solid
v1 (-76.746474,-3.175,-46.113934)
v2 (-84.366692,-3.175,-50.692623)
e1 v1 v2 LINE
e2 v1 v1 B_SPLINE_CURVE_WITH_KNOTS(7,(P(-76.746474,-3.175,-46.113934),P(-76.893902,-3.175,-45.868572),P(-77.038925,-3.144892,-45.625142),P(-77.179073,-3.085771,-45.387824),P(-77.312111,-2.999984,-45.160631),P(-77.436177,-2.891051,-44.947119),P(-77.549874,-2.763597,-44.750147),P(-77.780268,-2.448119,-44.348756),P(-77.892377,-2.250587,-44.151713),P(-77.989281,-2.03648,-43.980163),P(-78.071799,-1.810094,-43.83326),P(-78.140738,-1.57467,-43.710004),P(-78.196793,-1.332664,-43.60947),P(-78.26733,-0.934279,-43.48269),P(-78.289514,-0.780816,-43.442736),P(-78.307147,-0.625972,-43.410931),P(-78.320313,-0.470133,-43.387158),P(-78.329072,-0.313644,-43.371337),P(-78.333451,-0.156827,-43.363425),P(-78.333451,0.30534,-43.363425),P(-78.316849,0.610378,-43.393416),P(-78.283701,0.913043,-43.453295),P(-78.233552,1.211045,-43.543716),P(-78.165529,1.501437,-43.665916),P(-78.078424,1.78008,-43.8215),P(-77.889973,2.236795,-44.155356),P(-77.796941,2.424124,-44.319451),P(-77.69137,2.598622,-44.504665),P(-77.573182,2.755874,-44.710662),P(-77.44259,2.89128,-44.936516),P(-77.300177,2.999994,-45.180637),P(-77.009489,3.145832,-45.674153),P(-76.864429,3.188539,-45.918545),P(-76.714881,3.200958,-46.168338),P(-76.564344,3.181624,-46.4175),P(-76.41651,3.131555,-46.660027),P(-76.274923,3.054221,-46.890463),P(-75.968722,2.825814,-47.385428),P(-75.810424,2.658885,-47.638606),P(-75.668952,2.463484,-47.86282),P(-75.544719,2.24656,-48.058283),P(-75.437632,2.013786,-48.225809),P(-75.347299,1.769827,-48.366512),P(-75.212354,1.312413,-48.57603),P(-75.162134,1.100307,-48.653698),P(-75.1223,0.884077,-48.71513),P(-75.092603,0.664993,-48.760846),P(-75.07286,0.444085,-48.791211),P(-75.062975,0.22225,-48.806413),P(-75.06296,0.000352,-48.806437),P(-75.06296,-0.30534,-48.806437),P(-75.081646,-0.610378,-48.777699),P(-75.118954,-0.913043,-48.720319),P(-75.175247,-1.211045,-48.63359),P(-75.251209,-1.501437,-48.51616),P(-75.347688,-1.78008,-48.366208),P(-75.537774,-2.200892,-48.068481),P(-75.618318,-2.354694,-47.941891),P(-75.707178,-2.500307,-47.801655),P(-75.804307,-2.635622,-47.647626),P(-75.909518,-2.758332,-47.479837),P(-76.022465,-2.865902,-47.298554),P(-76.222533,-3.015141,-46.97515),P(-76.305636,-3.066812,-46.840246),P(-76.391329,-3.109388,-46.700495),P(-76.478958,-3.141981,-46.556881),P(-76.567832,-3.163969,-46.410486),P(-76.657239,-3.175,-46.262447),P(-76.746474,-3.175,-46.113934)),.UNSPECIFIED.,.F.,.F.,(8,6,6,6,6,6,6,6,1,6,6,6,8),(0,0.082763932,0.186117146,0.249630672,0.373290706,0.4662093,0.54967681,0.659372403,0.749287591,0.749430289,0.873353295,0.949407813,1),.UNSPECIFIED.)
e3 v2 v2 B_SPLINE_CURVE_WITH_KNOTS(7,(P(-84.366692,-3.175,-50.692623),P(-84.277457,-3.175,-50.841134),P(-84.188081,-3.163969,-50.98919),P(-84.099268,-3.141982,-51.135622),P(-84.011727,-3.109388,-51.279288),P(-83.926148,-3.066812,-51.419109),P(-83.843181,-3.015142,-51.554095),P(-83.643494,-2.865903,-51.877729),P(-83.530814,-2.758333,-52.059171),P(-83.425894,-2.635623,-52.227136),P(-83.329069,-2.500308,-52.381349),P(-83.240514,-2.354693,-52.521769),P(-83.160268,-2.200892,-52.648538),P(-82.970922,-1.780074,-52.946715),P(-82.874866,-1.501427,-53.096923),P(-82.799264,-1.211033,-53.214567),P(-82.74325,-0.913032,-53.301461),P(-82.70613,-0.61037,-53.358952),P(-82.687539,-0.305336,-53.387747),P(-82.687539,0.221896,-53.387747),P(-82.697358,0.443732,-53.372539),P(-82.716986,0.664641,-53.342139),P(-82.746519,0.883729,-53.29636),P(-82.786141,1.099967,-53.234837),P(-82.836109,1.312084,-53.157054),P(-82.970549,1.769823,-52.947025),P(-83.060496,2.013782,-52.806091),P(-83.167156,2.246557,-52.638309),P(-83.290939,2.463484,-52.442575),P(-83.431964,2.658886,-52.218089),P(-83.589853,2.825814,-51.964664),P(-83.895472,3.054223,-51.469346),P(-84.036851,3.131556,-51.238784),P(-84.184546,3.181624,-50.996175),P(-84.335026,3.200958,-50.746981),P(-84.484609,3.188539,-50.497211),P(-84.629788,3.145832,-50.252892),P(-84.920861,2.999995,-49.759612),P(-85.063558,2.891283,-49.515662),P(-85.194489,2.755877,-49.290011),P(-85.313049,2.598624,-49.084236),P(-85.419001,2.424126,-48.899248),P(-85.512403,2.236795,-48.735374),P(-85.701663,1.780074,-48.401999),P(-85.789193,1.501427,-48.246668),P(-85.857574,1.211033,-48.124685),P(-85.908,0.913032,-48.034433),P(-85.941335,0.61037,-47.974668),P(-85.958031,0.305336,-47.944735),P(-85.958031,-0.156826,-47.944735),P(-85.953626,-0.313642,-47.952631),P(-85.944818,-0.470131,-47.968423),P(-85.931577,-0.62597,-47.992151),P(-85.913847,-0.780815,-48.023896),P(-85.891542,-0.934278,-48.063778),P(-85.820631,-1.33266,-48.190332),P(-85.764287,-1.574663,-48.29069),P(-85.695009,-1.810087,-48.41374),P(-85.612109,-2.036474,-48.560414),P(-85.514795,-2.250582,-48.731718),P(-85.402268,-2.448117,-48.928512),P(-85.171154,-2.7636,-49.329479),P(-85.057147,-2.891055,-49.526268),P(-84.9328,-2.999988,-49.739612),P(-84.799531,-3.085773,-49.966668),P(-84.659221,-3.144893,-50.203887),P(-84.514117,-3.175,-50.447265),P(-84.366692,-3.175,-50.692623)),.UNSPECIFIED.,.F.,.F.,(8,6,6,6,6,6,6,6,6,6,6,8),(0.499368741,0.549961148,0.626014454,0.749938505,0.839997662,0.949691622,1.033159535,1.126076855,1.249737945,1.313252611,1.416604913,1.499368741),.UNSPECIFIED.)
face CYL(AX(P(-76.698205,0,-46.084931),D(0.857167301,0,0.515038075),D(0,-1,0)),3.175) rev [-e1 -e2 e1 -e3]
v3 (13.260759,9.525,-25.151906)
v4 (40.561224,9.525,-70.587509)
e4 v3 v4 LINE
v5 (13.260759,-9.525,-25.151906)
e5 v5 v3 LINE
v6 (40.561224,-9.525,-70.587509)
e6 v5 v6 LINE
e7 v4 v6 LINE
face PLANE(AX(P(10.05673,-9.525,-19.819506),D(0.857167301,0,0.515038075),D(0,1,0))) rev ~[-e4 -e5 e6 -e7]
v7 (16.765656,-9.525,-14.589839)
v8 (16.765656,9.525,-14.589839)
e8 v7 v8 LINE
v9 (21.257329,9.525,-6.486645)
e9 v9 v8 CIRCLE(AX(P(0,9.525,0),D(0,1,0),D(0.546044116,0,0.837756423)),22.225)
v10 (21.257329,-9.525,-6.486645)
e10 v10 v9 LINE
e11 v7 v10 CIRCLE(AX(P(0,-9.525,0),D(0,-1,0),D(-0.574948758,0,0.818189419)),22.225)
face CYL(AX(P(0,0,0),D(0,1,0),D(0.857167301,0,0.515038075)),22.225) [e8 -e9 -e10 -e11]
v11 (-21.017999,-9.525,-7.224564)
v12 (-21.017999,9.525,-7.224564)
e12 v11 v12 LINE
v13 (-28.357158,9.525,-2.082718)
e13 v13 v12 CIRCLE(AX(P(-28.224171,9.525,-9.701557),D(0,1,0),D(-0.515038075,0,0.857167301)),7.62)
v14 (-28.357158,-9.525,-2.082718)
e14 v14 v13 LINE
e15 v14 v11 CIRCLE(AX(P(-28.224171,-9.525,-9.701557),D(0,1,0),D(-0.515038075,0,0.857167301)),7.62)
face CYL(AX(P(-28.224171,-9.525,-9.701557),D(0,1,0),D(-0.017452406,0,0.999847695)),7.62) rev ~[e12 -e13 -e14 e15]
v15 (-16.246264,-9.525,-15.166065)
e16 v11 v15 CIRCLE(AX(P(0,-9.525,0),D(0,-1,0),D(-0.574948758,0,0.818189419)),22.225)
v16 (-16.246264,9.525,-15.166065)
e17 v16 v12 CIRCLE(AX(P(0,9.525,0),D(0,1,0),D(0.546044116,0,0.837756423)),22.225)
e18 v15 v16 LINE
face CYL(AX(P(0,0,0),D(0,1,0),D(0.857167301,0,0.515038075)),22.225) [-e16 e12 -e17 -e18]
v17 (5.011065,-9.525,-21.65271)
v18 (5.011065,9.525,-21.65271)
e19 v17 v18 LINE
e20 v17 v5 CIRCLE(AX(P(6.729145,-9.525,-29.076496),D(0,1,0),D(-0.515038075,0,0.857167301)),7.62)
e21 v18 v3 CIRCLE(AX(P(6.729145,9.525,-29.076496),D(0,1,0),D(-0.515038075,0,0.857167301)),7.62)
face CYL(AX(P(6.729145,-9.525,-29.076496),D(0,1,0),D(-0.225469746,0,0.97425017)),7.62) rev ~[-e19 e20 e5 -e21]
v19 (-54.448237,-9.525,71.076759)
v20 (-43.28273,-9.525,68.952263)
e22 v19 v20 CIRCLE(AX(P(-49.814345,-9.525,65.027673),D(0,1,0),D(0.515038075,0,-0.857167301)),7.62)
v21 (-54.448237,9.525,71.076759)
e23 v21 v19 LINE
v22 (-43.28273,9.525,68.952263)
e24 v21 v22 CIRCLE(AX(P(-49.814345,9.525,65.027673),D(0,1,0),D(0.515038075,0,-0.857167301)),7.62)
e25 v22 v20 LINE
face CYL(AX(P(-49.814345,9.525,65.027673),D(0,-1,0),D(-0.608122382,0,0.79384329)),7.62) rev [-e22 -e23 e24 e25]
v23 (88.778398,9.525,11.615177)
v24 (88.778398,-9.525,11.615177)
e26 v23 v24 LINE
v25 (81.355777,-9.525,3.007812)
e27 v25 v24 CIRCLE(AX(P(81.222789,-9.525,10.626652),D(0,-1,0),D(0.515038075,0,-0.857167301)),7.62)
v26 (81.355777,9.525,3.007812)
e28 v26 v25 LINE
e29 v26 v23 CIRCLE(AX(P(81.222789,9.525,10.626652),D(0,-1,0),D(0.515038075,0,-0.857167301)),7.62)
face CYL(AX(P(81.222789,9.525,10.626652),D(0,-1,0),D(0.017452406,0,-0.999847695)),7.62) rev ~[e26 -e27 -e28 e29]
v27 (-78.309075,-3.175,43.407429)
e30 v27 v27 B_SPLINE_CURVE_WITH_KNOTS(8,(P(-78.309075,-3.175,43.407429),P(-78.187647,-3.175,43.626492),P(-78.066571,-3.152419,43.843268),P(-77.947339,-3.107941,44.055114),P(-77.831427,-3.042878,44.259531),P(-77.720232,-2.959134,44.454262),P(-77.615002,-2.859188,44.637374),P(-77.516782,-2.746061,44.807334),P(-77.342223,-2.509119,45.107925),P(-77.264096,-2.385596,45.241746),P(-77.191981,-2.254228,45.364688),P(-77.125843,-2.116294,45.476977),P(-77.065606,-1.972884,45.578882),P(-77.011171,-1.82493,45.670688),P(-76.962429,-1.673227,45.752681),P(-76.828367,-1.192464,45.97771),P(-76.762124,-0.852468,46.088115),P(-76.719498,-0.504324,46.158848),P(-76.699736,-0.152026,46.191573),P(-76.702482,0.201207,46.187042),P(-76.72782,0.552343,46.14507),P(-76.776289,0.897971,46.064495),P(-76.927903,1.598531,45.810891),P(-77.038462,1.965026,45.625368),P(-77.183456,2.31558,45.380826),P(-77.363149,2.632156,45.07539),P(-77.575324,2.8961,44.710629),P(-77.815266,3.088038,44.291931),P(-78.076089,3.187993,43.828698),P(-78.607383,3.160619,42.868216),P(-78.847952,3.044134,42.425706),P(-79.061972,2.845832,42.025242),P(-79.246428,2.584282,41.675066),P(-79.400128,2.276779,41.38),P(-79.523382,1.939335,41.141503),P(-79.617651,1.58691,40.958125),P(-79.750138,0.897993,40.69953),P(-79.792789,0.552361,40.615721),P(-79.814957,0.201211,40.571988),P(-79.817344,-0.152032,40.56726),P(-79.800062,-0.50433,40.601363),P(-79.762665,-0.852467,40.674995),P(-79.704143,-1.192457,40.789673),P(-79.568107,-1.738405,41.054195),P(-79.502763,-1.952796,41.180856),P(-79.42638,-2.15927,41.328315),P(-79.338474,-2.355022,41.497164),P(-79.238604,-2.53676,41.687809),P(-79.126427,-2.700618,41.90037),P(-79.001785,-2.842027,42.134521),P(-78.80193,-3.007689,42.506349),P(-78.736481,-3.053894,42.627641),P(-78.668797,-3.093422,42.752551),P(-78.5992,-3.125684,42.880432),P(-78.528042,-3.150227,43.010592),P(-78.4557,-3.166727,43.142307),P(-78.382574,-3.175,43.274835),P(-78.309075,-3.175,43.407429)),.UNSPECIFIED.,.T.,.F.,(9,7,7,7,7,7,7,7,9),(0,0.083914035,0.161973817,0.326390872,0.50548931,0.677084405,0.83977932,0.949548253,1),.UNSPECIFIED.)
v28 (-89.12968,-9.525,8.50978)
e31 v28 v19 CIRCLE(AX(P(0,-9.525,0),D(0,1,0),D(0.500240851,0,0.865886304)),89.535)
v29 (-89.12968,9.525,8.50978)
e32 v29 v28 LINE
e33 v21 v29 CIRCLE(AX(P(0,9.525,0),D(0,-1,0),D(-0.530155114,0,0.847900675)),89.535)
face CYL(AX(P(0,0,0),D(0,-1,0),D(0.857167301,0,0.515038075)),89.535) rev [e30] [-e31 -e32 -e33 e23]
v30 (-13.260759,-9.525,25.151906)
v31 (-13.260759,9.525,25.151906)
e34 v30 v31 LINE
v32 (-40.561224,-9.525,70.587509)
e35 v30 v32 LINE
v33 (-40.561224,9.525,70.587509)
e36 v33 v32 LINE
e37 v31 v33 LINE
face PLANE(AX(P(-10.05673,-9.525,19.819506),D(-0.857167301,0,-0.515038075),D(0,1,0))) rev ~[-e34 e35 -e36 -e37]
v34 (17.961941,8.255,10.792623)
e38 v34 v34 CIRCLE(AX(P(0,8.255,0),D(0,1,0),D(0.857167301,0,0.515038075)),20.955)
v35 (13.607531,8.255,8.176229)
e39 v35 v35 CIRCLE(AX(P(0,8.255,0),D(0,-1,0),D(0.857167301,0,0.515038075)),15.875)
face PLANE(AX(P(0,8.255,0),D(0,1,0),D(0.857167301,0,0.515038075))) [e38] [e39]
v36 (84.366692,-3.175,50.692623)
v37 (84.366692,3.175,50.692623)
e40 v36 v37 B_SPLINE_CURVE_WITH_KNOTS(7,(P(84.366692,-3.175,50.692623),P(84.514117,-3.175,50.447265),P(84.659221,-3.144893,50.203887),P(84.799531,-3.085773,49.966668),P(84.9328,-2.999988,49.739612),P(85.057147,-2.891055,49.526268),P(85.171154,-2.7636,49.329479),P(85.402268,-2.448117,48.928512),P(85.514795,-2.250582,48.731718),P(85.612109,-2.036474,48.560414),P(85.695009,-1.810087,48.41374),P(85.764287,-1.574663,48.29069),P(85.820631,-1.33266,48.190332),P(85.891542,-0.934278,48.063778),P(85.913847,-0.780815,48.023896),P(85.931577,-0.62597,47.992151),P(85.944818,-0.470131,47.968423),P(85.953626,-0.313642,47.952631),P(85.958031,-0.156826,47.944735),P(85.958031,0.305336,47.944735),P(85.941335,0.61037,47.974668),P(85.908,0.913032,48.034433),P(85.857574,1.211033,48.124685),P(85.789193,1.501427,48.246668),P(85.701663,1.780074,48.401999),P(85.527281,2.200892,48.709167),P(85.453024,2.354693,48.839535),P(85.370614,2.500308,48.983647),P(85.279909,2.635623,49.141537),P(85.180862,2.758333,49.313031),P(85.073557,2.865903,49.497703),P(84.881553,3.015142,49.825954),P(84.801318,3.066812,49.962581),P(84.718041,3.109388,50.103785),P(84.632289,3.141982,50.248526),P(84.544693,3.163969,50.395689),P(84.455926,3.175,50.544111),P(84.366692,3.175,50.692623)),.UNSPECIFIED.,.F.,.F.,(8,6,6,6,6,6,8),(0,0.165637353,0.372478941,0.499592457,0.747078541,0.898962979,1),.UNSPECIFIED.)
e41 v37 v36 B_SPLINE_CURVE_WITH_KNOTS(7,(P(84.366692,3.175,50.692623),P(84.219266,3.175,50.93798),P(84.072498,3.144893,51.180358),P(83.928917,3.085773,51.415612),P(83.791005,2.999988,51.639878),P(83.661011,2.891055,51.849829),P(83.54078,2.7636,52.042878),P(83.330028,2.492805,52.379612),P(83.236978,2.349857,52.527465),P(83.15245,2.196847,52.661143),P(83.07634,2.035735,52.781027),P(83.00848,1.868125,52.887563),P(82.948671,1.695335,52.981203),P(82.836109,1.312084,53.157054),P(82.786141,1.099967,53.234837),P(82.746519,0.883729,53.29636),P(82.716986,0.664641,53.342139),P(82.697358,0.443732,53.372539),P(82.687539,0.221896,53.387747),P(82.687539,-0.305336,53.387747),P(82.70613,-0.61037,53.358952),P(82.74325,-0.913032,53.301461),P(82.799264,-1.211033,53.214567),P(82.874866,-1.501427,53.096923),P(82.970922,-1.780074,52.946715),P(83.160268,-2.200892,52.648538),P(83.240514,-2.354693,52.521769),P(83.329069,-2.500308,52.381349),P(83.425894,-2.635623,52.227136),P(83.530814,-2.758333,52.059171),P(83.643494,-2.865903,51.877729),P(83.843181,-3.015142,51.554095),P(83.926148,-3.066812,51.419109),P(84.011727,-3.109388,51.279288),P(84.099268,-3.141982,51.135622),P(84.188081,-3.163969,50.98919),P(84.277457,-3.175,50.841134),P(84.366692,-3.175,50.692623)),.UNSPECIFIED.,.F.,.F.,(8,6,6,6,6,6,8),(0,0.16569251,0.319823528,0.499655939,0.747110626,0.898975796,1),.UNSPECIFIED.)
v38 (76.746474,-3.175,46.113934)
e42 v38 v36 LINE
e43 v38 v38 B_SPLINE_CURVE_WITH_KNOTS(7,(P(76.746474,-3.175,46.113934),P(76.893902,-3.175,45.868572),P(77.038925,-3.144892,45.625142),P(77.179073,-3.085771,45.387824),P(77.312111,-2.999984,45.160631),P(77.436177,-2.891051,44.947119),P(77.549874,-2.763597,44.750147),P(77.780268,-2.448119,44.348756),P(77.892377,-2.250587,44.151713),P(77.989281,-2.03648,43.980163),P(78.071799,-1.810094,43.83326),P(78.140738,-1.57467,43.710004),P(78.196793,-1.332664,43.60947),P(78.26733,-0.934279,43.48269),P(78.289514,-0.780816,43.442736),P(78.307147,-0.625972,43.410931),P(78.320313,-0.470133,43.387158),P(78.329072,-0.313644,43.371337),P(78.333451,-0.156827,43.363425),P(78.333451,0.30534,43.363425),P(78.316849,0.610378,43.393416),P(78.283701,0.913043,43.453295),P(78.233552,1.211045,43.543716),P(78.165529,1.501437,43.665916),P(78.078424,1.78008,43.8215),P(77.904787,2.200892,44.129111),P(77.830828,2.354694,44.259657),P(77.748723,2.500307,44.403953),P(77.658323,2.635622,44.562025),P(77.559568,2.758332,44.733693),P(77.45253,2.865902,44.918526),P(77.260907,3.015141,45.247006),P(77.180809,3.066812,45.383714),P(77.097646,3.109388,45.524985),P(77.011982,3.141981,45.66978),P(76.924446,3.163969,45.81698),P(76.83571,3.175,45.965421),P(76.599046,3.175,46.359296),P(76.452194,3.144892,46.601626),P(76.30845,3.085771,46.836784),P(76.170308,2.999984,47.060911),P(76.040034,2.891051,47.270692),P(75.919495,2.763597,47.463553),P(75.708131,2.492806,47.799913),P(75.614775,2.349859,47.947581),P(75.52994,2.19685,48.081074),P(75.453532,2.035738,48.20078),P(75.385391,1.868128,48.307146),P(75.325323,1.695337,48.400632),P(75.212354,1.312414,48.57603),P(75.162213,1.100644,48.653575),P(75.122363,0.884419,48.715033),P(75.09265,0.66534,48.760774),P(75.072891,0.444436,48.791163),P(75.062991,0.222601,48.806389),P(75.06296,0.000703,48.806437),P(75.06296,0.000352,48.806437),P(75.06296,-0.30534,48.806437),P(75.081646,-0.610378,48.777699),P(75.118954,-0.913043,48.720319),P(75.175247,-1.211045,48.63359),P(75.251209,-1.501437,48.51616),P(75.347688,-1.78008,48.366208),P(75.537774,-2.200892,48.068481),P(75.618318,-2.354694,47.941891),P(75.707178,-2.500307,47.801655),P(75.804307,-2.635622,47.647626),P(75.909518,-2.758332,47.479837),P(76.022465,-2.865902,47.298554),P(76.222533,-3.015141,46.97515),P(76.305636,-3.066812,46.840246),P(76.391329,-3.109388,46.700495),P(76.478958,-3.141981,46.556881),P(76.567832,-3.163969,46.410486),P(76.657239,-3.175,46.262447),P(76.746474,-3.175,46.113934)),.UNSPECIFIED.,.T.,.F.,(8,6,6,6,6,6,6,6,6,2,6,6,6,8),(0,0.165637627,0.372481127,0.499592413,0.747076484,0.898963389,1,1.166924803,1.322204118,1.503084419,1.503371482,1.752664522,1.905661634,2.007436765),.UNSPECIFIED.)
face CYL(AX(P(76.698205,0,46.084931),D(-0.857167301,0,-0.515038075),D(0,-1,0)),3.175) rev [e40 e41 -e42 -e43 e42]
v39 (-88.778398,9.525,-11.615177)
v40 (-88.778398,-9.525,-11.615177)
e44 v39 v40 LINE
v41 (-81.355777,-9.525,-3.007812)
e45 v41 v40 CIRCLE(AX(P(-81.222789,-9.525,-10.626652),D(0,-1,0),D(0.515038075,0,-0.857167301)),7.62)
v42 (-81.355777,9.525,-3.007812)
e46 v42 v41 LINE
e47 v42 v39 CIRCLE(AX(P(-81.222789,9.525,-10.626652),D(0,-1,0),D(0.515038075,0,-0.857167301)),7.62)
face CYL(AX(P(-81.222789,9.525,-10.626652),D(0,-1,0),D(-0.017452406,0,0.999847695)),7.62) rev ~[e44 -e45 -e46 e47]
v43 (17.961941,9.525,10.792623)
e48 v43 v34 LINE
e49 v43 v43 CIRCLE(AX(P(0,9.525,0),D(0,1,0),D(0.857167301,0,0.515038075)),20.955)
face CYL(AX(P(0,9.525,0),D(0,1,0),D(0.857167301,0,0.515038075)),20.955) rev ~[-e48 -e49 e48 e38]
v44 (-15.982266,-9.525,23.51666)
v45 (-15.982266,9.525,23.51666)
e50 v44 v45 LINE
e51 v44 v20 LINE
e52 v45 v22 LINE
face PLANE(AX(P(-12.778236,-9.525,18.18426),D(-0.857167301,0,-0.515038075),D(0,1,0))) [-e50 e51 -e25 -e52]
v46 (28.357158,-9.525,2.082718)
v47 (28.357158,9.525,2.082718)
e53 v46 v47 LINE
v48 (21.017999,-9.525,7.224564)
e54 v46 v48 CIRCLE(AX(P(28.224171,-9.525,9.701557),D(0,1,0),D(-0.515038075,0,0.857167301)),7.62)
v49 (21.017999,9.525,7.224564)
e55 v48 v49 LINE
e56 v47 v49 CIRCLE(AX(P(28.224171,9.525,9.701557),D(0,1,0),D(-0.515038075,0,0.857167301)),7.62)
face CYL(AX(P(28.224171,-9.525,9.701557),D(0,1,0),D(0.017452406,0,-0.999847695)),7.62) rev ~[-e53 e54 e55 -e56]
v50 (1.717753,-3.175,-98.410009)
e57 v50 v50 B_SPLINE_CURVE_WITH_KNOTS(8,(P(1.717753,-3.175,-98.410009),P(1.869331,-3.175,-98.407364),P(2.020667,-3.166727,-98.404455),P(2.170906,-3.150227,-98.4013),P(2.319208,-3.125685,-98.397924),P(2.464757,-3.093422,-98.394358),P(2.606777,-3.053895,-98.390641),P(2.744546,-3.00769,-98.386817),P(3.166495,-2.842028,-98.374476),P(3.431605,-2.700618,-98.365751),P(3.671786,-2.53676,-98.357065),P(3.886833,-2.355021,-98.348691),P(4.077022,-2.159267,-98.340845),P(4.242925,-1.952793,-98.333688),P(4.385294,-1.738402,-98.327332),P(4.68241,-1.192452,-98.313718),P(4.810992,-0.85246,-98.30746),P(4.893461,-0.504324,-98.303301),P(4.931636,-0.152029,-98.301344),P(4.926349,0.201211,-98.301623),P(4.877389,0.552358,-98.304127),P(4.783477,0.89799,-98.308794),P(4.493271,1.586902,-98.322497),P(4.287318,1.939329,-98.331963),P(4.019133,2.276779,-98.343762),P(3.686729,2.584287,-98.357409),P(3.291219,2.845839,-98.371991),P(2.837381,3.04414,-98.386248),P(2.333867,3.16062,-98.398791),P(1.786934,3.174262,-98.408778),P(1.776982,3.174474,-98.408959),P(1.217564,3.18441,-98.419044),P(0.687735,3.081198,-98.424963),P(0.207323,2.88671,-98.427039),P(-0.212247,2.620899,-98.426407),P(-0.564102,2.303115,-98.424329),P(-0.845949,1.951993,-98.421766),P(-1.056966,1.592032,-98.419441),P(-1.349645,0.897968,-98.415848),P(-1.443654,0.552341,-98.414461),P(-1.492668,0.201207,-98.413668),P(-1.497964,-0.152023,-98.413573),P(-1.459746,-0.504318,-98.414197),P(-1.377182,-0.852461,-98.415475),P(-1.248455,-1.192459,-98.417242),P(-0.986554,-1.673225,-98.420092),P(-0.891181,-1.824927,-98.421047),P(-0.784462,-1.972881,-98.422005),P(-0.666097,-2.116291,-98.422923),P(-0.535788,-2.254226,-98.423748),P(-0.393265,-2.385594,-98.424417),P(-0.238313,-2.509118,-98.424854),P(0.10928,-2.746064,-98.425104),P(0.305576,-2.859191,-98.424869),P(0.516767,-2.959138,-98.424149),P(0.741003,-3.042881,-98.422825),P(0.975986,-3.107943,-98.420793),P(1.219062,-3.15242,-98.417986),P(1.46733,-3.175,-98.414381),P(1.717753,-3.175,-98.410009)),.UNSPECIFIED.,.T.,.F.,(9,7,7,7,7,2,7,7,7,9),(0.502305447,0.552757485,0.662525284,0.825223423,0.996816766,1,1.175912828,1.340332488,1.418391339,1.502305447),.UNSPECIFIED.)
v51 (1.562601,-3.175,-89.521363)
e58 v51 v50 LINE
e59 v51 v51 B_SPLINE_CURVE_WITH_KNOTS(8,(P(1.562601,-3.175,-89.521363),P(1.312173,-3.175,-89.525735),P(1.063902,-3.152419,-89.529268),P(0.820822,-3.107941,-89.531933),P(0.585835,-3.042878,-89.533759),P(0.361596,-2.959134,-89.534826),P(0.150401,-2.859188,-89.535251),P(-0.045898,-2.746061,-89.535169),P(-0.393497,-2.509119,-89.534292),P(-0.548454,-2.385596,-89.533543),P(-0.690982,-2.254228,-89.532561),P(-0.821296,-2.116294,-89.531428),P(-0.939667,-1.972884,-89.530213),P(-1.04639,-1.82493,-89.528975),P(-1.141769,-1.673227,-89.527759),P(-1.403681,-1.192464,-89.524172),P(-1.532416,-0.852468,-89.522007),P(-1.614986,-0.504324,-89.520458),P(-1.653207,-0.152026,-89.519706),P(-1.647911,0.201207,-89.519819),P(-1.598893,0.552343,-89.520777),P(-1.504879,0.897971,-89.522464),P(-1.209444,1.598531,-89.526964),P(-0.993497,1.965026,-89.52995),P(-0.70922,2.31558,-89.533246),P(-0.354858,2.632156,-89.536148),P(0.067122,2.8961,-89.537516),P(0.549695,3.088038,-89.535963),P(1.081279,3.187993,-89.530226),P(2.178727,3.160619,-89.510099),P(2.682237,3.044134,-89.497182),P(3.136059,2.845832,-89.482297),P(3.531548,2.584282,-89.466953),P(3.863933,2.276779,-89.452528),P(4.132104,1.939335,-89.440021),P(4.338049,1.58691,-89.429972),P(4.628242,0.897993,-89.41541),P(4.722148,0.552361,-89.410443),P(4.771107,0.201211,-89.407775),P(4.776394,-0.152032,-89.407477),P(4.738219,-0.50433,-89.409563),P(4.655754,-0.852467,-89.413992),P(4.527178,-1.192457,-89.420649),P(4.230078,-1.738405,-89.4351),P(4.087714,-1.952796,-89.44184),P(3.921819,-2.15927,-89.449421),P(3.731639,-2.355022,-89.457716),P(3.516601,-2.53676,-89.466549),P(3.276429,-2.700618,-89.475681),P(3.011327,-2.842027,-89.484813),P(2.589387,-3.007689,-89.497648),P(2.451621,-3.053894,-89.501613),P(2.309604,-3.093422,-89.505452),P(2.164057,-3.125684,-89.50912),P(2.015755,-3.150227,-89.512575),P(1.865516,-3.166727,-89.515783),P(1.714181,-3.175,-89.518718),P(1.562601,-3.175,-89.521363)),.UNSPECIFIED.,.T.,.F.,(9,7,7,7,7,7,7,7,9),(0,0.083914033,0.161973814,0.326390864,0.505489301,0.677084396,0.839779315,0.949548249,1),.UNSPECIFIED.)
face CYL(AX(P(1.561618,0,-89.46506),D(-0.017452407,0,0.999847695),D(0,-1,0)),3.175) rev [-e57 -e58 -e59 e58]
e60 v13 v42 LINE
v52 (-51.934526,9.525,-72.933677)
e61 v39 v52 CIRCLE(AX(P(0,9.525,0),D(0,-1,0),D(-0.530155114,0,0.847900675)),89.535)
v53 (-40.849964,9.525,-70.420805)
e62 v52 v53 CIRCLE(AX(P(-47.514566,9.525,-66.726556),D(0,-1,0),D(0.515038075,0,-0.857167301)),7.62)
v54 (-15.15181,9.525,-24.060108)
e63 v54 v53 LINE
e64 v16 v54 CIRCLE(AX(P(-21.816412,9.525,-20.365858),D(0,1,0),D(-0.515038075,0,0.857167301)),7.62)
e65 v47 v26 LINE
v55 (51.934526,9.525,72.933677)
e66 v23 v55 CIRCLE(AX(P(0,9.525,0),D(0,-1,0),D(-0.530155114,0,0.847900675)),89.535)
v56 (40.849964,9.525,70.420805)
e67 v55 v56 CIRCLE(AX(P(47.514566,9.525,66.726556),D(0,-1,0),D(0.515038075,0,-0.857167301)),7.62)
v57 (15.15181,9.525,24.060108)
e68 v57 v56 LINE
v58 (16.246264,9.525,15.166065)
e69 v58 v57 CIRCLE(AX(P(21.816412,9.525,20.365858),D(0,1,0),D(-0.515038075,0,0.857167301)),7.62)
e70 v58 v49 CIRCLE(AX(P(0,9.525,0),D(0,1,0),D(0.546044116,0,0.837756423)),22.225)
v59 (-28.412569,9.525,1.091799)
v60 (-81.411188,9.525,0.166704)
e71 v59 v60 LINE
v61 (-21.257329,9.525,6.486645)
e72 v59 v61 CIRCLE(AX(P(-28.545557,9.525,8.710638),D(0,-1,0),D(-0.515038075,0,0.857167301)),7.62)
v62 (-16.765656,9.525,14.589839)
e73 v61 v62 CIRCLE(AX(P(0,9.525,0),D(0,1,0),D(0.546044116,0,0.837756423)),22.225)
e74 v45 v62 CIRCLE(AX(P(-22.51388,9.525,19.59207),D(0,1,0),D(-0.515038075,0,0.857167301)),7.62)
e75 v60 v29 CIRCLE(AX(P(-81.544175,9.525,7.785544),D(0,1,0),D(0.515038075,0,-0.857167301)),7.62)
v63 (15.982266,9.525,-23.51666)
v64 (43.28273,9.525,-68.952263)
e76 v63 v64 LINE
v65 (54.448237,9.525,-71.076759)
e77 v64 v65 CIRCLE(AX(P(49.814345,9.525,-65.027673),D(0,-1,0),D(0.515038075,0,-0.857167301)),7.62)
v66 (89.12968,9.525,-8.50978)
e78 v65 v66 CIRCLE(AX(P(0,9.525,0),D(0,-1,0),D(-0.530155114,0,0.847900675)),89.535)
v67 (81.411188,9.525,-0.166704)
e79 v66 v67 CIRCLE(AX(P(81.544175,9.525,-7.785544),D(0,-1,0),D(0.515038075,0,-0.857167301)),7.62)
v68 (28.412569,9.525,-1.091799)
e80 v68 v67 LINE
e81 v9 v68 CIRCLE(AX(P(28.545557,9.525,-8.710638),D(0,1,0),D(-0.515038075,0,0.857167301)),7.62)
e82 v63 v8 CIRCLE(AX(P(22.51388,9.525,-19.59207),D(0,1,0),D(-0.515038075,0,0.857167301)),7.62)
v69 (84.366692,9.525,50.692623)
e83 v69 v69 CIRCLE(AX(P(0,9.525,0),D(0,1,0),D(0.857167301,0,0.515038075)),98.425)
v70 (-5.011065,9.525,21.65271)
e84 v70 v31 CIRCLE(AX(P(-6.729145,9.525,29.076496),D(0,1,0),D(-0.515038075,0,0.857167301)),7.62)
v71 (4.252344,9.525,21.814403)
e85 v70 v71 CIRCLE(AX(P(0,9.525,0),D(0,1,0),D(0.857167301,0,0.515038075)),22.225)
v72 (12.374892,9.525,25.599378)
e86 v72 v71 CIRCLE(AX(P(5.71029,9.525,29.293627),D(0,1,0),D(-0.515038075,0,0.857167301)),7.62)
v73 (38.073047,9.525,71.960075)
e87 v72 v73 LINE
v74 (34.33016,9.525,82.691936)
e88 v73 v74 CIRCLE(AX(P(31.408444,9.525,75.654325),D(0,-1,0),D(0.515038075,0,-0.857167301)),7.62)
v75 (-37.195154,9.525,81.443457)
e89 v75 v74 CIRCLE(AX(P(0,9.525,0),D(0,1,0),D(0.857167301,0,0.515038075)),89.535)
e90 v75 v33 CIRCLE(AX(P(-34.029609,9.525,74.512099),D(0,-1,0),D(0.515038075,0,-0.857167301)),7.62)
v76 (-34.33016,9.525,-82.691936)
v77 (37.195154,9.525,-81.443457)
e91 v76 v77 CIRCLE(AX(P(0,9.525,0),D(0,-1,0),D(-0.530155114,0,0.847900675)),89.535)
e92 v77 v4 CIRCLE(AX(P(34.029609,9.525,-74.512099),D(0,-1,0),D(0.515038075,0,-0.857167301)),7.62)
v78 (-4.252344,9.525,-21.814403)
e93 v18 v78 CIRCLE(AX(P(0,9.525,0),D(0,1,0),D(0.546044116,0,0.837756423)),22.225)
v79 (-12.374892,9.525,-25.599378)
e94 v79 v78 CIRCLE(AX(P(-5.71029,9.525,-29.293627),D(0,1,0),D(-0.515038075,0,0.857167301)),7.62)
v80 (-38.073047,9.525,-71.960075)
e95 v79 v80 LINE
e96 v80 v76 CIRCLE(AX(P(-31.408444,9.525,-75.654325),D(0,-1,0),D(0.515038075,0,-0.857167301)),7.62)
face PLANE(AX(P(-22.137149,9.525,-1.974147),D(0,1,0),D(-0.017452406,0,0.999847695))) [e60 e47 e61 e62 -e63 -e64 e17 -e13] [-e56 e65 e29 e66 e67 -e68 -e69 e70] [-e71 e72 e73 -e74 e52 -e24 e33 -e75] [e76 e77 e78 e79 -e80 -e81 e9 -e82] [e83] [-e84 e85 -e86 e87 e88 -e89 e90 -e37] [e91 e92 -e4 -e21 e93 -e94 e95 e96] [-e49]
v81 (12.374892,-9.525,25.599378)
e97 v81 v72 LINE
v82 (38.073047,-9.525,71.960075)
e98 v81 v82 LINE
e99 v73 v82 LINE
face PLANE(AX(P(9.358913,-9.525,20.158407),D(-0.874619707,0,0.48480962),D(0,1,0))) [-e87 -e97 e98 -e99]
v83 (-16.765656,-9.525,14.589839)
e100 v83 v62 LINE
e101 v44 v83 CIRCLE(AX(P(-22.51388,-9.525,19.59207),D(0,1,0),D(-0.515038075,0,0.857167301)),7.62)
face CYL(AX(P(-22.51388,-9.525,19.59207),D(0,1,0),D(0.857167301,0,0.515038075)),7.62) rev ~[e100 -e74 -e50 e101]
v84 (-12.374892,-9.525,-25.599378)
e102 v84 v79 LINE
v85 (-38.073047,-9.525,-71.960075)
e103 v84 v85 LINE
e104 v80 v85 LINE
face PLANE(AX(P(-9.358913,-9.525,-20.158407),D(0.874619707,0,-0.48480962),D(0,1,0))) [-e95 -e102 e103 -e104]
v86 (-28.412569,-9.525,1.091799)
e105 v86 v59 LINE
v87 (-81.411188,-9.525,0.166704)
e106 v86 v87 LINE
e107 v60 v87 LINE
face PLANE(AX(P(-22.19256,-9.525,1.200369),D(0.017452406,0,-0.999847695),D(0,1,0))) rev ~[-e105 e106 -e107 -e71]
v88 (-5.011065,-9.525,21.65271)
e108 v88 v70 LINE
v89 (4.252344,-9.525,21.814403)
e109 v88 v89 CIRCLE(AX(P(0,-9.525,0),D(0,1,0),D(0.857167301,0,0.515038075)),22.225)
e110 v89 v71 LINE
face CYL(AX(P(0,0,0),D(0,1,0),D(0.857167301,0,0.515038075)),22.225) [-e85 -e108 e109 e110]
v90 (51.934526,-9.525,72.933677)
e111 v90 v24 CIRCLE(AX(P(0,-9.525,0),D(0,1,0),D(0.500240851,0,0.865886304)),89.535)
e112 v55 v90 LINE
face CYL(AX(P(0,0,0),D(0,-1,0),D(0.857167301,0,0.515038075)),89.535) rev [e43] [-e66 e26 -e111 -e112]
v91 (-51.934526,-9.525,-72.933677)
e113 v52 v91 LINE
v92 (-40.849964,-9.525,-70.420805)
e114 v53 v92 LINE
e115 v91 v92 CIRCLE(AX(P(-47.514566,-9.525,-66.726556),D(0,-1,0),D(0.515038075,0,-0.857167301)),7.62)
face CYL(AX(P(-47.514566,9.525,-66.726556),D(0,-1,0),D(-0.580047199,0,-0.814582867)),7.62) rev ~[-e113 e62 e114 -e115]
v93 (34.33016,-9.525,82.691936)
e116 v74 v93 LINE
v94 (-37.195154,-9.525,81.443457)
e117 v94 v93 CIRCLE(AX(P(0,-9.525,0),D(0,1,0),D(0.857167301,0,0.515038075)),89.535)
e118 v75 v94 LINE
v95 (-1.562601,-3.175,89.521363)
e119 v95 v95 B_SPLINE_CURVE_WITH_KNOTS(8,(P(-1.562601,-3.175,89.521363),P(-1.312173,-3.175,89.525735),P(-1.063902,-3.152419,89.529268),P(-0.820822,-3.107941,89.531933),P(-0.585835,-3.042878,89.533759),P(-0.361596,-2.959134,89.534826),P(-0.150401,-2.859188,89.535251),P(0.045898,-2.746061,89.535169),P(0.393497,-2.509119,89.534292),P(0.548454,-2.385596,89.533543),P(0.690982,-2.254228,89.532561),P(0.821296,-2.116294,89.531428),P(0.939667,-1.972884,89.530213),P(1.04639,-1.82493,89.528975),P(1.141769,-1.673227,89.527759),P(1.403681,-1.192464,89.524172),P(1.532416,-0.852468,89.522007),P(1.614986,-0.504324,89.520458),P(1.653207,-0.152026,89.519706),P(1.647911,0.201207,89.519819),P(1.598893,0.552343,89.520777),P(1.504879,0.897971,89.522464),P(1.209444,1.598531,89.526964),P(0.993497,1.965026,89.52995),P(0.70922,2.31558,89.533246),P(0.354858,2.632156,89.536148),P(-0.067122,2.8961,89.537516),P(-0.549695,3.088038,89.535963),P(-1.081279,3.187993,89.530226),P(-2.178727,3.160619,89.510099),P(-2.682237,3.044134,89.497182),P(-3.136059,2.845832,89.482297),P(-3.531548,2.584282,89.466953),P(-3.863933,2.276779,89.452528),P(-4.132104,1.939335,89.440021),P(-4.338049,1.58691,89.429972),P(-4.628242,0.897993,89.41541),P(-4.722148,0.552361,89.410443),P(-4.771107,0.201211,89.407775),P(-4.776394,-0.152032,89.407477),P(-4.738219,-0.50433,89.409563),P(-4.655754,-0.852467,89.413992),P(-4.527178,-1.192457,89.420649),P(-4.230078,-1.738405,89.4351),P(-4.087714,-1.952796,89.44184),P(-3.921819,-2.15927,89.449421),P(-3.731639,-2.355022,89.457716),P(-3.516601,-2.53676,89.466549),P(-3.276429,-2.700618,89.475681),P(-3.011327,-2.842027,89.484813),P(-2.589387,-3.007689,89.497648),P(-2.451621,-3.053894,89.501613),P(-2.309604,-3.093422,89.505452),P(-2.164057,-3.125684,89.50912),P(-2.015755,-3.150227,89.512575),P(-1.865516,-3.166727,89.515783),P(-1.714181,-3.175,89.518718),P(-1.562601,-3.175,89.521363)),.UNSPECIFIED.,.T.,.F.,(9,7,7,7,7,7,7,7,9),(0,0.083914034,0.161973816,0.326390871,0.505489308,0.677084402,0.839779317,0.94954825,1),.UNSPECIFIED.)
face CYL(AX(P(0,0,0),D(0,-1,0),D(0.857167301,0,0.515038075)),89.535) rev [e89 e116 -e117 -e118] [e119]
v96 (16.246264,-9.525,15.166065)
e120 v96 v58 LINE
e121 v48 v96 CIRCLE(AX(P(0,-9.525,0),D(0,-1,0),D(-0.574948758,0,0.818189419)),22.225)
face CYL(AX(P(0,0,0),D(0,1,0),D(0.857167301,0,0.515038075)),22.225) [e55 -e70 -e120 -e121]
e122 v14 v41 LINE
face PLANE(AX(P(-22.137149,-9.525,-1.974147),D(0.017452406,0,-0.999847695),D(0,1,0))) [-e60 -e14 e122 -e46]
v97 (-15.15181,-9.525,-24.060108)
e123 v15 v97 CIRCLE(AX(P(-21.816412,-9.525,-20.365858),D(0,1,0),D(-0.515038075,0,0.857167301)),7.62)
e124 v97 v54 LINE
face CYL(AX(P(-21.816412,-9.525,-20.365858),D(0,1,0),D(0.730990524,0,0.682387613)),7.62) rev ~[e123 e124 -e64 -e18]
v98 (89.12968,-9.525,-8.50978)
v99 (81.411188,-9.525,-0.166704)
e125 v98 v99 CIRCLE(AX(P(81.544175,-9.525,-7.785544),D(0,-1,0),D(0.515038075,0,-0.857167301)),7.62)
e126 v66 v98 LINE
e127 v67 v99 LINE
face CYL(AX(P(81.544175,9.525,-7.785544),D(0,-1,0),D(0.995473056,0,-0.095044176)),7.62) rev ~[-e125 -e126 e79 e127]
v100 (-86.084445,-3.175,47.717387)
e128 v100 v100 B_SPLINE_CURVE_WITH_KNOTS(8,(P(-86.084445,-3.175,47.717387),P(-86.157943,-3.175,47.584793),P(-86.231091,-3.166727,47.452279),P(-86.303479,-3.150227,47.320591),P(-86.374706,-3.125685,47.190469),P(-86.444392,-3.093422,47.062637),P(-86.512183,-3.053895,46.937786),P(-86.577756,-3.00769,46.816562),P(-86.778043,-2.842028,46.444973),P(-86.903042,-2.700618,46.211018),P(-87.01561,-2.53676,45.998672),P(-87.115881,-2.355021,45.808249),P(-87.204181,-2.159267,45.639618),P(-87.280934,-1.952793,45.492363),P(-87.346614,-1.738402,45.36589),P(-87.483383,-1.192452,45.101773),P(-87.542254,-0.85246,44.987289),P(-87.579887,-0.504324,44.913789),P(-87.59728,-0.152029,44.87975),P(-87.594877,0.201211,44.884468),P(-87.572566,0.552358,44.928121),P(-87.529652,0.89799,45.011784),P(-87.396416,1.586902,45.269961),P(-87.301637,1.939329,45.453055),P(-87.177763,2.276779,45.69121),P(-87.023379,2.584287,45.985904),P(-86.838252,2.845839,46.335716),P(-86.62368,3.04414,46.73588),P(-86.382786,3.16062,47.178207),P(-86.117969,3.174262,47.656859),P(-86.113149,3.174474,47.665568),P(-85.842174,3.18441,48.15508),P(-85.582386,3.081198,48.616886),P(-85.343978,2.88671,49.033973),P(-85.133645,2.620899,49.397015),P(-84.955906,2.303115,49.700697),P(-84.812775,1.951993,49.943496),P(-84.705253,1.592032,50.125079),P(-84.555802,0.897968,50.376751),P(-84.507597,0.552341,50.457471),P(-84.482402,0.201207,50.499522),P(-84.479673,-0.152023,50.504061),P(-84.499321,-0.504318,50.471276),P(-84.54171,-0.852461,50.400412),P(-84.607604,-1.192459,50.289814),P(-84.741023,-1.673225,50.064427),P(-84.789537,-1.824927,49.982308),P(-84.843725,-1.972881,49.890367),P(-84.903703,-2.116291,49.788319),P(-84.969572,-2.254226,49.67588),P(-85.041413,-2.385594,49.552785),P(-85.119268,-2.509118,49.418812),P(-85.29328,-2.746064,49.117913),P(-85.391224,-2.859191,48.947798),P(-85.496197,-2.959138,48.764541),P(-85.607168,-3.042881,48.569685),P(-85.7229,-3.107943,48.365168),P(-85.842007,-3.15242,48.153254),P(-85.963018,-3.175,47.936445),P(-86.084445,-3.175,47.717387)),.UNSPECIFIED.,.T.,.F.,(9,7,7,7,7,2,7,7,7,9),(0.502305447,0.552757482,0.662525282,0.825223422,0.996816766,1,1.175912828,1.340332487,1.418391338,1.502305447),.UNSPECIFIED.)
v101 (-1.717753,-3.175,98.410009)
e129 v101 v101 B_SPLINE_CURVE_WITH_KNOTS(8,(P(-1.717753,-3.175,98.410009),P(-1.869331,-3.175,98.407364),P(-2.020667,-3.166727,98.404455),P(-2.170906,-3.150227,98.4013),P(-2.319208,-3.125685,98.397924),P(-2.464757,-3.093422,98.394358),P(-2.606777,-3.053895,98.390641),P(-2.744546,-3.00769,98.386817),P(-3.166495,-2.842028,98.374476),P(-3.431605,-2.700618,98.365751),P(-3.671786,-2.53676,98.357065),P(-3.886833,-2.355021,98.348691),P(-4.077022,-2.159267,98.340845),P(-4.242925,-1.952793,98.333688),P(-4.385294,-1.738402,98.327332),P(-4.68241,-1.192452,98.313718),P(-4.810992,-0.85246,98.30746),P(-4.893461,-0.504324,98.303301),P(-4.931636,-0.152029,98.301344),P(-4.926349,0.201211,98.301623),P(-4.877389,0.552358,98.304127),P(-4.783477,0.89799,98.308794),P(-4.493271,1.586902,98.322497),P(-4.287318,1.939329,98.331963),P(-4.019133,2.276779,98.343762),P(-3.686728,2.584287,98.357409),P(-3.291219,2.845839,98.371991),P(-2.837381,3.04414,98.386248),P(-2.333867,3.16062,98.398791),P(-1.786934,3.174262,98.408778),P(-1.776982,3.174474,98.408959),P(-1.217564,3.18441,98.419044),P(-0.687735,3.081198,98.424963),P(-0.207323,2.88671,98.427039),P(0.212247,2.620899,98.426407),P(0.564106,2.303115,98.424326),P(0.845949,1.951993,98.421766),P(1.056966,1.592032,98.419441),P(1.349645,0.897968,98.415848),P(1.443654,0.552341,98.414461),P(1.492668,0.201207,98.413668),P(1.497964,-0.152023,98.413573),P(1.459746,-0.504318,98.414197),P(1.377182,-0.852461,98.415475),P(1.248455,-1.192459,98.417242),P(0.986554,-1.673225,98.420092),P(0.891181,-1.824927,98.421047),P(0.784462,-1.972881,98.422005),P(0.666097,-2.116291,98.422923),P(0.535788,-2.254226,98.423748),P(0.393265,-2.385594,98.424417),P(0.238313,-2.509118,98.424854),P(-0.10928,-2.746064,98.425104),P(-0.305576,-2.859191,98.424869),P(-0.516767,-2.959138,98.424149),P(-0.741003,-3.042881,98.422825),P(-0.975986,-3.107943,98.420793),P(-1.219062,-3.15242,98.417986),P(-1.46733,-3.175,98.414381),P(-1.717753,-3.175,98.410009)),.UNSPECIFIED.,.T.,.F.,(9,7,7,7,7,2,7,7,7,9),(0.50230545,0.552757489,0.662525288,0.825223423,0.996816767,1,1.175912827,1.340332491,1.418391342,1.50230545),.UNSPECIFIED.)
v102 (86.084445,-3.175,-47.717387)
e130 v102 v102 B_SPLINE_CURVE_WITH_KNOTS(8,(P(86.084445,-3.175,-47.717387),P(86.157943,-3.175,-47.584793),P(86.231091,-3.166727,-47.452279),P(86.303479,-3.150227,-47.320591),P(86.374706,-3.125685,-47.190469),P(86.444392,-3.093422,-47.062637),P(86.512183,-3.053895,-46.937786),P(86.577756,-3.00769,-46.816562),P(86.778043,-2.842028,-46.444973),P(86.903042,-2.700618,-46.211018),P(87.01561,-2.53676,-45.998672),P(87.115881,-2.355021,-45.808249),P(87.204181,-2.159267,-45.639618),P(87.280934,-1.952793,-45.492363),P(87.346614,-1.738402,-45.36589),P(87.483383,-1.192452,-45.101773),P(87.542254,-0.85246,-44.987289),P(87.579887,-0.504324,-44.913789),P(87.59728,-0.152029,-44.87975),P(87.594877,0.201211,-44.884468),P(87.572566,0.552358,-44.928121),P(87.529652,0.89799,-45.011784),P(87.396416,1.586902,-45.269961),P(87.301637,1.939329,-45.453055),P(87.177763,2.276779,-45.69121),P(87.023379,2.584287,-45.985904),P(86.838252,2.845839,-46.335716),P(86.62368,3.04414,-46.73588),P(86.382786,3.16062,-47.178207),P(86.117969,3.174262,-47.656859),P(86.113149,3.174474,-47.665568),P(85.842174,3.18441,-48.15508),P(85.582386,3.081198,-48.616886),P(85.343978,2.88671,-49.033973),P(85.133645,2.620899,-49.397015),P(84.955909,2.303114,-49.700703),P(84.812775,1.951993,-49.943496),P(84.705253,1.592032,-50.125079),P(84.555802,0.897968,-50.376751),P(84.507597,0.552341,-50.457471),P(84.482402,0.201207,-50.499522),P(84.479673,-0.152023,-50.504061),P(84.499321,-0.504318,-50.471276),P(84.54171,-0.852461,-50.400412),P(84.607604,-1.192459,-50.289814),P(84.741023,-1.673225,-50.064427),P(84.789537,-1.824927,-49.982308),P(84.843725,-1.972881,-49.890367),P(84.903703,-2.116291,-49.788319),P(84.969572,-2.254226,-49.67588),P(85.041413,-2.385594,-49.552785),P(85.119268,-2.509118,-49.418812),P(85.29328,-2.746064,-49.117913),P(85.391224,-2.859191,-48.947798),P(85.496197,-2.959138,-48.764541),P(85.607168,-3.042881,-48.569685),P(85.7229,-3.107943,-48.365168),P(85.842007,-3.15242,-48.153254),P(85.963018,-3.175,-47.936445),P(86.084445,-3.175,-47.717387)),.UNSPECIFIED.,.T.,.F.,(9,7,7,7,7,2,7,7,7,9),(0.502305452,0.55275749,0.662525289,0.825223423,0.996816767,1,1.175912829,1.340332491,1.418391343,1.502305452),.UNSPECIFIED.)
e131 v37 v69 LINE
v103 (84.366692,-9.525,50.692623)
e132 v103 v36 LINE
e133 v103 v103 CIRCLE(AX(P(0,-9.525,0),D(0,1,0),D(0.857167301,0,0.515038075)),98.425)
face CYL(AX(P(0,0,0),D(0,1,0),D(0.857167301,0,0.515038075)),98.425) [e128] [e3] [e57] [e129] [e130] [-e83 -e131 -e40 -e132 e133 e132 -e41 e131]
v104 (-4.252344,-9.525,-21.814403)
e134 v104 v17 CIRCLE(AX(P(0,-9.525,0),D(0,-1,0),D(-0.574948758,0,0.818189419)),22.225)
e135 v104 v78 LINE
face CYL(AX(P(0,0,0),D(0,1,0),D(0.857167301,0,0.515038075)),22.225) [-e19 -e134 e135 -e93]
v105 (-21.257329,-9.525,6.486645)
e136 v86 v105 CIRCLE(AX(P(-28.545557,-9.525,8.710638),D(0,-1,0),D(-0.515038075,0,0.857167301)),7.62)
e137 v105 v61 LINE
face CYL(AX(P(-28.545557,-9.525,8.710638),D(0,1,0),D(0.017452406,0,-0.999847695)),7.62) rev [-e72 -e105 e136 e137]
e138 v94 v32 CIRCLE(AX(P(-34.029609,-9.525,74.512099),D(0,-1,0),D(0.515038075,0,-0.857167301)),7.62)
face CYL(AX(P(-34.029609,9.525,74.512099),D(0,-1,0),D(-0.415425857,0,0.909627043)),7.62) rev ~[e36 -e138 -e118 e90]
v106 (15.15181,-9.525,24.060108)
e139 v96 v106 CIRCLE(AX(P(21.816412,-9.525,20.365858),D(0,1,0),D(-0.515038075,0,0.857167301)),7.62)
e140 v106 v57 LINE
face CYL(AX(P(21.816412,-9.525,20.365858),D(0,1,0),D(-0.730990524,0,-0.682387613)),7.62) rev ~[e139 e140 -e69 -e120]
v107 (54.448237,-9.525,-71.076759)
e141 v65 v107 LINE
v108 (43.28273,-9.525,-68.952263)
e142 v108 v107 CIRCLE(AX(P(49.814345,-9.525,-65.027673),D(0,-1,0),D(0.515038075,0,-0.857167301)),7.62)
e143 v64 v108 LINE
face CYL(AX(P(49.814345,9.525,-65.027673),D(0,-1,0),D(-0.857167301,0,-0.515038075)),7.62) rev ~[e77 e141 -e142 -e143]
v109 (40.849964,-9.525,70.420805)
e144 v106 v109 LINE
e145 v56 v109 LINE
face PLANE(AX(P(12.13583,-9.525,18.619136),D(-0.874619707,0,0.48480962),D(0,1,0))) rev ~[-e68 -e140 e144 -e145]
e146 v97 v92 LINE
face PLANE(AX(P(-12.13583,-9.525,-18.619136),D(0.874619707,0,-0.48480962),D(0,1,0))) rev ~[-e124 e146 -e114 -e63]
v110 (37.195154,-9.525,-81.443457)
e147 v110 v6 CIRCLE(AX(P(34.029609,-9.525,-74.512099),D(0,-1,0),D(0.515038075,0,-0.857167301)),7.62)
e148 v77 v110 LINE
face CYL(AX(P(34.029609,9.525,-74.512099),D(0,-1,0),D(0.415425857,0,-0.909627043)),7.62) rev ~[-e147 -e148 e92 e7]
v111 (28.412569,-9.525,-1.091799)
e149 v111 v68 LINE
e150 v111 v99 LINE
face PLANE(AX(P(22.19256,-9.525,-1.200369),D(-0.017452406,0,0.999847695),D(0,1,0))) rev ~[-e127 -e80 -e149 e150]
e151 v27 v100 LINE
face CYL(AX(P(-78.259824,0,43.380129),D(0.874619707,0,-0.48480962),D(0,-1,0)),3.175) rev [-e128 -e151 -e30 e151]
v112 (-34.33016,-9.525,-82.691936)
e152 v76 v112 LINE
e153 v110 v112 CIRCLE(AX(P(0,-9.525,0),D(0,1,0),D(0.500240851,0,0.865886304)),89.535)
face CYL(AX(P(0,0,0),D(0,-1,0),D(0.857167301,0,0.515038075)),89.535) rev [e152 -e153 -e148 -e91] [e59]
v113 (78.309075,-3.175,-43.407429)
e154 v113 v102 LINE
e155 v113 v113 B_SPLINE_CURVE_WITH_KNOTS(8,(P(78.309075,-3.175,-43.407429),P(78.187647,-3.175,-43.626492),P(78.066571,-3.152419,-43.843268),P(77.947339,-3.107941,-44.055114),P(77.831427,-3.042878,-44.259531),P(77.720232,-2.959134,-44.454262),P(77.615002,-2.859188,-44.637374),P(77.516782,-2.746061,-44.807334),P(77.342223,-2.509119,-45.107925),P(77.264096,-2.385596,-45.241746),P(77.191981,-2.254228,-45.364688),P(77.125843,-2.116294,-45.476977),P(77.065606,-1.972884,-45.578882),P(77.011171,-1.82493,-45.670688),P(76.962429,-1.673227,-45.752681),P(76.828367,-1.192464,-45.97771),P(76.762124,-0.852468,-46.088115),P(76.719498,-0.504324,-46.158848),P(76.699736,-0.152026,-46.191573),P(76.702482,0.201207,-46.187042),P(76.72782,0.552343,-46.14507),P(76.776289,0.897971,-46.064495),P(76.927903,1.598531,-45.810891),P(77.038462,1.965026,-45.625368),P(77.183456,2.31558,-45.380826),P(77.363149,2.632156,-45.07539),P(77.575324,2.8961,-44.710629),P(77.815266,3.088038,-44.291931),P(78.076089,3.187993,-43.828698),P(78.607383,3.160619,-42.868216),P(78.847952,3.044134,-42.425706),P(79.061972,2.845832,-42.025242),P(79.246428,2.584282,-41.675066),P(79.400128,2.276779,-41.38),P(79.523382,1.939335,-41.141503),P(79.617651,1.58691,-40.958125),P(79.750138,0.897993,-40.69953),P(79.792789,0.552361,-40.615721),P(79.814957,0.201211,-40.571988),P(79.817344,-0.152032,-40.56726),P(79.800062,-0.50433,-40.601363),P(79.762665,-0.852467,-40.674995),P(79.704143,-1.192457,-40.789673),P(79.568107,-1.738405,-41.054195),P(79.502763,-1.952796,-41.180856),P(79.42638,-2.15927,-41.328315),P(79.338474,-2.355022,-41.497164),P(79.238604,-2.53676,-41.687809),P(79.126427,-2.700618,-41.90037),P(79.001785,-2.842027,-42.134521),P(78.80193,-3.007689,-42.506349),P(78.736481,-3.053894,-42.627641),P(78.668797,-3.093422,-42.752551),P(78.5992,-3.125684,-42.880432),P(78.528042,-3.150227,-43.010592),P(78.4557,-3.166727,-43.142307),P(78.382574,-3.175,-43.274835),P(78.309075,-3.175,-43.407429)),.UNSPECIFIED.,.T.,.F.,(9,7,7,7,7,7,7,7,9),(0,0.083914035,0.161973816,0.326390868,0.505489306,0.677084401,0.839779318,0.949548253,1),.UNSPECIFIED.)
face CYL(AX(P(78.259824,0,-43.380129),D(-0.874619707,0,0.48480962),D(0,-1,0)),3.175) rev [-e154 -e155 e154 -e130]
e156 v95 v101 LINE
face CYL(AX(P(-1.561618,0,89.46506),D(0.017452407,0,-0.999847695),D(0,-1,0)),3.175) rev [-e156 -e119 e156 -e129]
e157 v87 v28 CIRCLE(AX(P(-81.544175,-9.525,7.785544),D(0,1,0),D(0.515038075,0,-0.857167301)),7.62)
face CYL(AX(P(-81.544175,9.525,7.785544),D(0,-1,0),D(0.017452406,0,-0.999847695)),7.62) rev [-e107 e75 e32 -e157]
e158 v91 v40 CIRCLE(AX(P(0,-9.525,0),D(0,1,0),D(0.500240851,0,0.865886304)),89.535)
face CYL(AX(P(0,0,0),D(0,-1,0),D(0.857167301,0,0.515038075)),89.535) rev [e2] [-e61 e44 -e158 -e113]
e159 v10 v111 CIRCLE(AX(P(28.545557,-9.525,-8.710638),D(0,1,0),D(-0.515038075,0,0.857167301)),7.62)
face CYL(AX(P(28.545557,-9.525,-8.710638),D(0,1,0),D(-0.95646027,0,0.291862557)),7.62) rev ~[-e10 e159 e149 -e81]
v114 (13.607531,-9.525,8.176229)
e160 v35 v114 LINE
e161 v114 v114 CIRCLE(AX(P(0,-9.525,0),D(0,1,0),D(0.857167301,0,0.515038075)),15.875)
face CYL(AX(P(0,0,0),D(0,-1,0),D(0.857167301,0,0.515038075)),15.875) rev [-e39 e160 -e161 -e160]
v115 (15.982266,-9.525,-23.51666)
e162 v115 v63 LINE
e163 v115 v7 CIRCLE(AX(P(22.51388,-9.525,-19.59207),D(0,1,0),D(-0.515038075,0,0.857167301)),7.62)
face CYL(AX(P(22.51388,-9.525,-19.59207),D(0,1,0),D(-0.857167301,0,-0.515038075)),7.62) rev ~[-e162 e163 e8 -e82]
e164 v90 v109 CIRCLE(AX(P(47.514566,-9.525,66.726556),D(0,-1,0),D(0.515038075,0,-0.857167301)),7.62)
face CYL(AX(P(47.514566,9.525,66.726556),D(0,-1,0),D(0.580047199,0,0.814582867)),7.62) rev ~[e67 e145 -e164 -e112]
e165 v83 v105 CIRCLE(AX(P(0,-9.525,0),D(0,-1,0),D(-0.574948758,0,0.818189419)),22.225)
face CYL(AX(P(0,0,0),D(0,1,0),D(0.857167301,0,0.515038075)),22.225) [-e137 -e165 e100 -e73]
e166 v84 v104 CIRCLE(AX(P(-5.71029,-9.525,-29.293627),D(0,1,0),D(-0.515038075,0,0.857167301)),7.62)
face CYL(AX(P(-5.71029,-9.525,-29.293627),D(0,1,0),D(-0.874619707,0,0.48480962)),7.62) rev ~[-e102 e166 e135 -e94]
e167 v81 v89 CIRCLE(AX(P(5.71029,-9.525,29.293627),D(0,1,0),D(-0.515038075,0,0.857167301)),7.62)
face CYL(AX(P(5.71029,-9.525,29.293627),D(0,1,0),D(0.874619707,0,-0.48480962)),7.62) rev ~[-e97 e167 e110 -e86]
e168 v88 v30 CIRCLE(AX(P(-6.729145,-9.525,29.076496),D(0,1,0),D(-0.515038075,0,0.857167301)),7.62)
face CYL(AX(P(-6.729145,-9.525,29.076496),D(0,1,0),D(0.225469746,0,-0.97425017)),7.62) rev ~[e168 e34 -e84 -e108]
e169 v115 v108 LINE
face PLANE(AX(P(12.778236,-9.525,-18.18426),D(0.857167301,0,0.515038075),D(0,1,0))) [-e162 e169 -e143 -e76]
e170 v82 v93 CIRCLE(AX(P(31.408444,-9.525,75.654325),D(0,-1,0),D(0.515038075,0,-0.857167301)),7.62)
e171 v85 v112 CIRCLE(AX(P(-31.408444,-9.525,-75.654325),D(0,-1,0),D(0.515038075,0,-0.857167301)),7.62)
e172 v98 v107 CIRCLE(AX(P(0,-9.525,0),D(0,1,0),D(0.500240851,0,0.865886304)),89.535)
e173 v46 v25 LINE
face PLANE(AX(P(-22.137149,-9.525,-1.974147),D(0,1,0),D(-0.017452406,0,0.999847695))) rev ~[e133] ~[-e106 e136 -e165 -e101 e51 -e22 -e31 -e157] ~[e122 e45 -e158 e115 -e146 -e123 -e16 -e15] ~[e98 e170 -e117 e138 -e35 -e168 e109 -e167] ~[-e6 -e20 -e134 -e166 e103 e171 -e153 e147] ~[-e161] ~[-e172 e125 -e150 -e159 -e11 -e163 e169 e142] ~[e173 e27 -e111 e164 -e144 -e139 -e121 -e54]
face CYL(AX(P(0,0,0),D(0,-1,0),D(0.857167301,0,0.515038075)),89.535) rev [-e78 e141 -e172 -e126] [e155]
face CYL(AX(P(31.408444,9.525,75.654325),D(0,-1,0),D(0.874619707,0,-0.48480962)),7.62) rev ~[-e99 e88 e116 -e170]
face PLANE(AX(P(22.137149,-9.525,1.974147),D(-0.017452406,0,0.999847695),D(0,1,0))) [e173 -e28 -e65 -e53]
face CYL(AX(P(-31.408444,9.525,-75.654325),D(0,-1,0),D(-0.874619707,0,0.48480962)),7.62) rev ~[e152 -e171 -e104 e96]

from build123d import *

# Parameters (mm, degrees)
CENTER_RING_R         = 22.225
CENTER_RING_R_2       = 15.875
CENTER_DEPTH          = 9.525
OUTER_R               = 98.425
OUTER_R_2             = 89.535
OUTER_RING_DEPTH      = 9.525
BEAM_START            = -25.456769
BEEAM_W               = 3.175
BEEAM_H               = 19.05
BEAM_DEPTH            = 67.366769
CIRPATTERN1_COUNT     = 6
FILLET1_R             = 7.62
SKETCH27_R            = 20.955
CUT_EXTRUDE3_DEPTH    = 1.27
CUT_EXTRUDE5_START    = -8.946312
SKETCH31_R            = 3.175
CUT_EXTRUDE5_DEPTH    = 8.946312
CIRPATTERN5_COUNT     = 6
BODY_MOVE_COPY7_ANGLE = 31


with BuildPart() as part:
    # Center Ring → Center (new body, symmetric)
    with BuildSketch(Plane(origin=(0, 0, 0), x_dir=(1, 0, 0), z_dir=(0, 1, 0))):
        Circle(CENTER_RING_R)
        Circle(CENTER_RING_R_2, mode=Mode.SUBTRACT)
    extrude(amount=CENTER_DEPTH, both=True)



with BuildPart() as body_2:
    # Outer → Outer Ring (new body, symmetric)
    with BuildSketch(Plane(origin=(0, 0, 0), x_dir=(1, 0, 0), z_dir=(0, 1, 0))):
        Circle(OUTER_R)
        Circle(OUTER_R_2, mode=Mode.SUBTRACT)
    extrude(amount=OUTER_RING_DEPTH, both=True)


with BuildPart() as part_1:
    add(part.part)

    add(body_2.part)  # Beam merges body 2
    # beeam → Beam (add)
    with BuildSketch(Plane.XY.offset(47.625).offset(BEAM_START)):
        Rectangle(BEEAM_W, BEEAM_H)
    beam = extrude(amount=BEAM_DEPTH)

    # CirPattern1: Beam ×6 about axis
    cirpattern1_axis = Axis((0, 0, 0), (0, 1, 0))
    for i in range(1, CIRPATTERN1_COUNT):
        add(beam.rotate(cirpattern1_axis, i * 360 / CIRPATTERN1_COUNT))

    # Fillet1
    fillet1_edges = [part_1.edges().sort_by_distance(p)[0] for p in [
        (-1.5875, 0, 22.168231),
        (-1.5875, 0, 89.520925312),
        (1.5875, 0, 22.168231),
        (1.5875, 0, 89.520925312),
        (-18.404501203, 0, 12.458930829),
        (-76.733645491, 0, 46.135277985),
        (-19.992001203, 0, 9.709300171),
        (-78.321145491, 0, 43.385647328),
        (-19.992001203, 0, -9.709300171),
        (-78.321145491, 0, -43.385647328),
        (-18.404501203, 0, -12.458930829),
        (-76.733645491, 0, -46.135277985),
        (1.5875, 0, -22.168231),
        (1.5875, 0, -89.520925312),
        (-1.5875, 0, -22.168231),
        (-1.5875, 0, -89.520925312),
        (19.992001203, 0, -9.709300171),
        (78.321145491, 0, -43.385647328),
        (18.404501203, 0, -12.458930829),
        (76.733645491, 0, -46.135277985),
        (18.404501203, 0, 12.458930829),
        (76.733645491, 0, 46.135277985),
        (19.992001203, 0, 9.709300171),
        (78.321145491, 0, 43.385647328),
    ]]
    fillet(fillet1_edges, radius=FILLET1_R)

    # Sketch27 → Cut-Extrude3 (cut)
    with BuildSketch(Plane(origin=(0, 9.525, 0), x_dir=(1, 0, 0), z_dir=(0, 1, 0))):
        Circle(SKETCH27_R)
    extrude(amount=-CUT_EXTRUDE3_DEPTH, mode=Mode.SUBTRACT)

    # Sketch31 → Cut-Extrude5 (cut)
    with BuildSketch(Plane(origin=(49.2125, 0, 85.238550367), x_dir=(0, -1, 0), z_dir=(0.5, 0, 0.866025404)).offset(CUT_EXTRUDE5_START)):
        Circle(SKETCH31_R)
    cut_extrude5 = extrude(amount=CUT_EXTRUDE5_DEPTH, mode=Mode.SUBTRACT)

    # CirPattern5: Cut-Extrude5 ×6 about axis
    cirpattern5_axis = Axis((0, 9.525, 0), (0, -1, 0))
    for i in range(1, CIRPATTERN5_COUNT):
        add(cut_extrude5.rotate(cirpattern5_axis, i * 360 / CIRPATTERN5_COUNT), mode=Mode.SUBTRACT)


with BuildPart() as part_2:
    # Body-Move/Copy7: moved
    add(part_1.part.rotate(Axis((0, 0, 0), (0, -1, 0)), BODY_MOVE_COPY7_ANGLE))


solid = part_2.part
